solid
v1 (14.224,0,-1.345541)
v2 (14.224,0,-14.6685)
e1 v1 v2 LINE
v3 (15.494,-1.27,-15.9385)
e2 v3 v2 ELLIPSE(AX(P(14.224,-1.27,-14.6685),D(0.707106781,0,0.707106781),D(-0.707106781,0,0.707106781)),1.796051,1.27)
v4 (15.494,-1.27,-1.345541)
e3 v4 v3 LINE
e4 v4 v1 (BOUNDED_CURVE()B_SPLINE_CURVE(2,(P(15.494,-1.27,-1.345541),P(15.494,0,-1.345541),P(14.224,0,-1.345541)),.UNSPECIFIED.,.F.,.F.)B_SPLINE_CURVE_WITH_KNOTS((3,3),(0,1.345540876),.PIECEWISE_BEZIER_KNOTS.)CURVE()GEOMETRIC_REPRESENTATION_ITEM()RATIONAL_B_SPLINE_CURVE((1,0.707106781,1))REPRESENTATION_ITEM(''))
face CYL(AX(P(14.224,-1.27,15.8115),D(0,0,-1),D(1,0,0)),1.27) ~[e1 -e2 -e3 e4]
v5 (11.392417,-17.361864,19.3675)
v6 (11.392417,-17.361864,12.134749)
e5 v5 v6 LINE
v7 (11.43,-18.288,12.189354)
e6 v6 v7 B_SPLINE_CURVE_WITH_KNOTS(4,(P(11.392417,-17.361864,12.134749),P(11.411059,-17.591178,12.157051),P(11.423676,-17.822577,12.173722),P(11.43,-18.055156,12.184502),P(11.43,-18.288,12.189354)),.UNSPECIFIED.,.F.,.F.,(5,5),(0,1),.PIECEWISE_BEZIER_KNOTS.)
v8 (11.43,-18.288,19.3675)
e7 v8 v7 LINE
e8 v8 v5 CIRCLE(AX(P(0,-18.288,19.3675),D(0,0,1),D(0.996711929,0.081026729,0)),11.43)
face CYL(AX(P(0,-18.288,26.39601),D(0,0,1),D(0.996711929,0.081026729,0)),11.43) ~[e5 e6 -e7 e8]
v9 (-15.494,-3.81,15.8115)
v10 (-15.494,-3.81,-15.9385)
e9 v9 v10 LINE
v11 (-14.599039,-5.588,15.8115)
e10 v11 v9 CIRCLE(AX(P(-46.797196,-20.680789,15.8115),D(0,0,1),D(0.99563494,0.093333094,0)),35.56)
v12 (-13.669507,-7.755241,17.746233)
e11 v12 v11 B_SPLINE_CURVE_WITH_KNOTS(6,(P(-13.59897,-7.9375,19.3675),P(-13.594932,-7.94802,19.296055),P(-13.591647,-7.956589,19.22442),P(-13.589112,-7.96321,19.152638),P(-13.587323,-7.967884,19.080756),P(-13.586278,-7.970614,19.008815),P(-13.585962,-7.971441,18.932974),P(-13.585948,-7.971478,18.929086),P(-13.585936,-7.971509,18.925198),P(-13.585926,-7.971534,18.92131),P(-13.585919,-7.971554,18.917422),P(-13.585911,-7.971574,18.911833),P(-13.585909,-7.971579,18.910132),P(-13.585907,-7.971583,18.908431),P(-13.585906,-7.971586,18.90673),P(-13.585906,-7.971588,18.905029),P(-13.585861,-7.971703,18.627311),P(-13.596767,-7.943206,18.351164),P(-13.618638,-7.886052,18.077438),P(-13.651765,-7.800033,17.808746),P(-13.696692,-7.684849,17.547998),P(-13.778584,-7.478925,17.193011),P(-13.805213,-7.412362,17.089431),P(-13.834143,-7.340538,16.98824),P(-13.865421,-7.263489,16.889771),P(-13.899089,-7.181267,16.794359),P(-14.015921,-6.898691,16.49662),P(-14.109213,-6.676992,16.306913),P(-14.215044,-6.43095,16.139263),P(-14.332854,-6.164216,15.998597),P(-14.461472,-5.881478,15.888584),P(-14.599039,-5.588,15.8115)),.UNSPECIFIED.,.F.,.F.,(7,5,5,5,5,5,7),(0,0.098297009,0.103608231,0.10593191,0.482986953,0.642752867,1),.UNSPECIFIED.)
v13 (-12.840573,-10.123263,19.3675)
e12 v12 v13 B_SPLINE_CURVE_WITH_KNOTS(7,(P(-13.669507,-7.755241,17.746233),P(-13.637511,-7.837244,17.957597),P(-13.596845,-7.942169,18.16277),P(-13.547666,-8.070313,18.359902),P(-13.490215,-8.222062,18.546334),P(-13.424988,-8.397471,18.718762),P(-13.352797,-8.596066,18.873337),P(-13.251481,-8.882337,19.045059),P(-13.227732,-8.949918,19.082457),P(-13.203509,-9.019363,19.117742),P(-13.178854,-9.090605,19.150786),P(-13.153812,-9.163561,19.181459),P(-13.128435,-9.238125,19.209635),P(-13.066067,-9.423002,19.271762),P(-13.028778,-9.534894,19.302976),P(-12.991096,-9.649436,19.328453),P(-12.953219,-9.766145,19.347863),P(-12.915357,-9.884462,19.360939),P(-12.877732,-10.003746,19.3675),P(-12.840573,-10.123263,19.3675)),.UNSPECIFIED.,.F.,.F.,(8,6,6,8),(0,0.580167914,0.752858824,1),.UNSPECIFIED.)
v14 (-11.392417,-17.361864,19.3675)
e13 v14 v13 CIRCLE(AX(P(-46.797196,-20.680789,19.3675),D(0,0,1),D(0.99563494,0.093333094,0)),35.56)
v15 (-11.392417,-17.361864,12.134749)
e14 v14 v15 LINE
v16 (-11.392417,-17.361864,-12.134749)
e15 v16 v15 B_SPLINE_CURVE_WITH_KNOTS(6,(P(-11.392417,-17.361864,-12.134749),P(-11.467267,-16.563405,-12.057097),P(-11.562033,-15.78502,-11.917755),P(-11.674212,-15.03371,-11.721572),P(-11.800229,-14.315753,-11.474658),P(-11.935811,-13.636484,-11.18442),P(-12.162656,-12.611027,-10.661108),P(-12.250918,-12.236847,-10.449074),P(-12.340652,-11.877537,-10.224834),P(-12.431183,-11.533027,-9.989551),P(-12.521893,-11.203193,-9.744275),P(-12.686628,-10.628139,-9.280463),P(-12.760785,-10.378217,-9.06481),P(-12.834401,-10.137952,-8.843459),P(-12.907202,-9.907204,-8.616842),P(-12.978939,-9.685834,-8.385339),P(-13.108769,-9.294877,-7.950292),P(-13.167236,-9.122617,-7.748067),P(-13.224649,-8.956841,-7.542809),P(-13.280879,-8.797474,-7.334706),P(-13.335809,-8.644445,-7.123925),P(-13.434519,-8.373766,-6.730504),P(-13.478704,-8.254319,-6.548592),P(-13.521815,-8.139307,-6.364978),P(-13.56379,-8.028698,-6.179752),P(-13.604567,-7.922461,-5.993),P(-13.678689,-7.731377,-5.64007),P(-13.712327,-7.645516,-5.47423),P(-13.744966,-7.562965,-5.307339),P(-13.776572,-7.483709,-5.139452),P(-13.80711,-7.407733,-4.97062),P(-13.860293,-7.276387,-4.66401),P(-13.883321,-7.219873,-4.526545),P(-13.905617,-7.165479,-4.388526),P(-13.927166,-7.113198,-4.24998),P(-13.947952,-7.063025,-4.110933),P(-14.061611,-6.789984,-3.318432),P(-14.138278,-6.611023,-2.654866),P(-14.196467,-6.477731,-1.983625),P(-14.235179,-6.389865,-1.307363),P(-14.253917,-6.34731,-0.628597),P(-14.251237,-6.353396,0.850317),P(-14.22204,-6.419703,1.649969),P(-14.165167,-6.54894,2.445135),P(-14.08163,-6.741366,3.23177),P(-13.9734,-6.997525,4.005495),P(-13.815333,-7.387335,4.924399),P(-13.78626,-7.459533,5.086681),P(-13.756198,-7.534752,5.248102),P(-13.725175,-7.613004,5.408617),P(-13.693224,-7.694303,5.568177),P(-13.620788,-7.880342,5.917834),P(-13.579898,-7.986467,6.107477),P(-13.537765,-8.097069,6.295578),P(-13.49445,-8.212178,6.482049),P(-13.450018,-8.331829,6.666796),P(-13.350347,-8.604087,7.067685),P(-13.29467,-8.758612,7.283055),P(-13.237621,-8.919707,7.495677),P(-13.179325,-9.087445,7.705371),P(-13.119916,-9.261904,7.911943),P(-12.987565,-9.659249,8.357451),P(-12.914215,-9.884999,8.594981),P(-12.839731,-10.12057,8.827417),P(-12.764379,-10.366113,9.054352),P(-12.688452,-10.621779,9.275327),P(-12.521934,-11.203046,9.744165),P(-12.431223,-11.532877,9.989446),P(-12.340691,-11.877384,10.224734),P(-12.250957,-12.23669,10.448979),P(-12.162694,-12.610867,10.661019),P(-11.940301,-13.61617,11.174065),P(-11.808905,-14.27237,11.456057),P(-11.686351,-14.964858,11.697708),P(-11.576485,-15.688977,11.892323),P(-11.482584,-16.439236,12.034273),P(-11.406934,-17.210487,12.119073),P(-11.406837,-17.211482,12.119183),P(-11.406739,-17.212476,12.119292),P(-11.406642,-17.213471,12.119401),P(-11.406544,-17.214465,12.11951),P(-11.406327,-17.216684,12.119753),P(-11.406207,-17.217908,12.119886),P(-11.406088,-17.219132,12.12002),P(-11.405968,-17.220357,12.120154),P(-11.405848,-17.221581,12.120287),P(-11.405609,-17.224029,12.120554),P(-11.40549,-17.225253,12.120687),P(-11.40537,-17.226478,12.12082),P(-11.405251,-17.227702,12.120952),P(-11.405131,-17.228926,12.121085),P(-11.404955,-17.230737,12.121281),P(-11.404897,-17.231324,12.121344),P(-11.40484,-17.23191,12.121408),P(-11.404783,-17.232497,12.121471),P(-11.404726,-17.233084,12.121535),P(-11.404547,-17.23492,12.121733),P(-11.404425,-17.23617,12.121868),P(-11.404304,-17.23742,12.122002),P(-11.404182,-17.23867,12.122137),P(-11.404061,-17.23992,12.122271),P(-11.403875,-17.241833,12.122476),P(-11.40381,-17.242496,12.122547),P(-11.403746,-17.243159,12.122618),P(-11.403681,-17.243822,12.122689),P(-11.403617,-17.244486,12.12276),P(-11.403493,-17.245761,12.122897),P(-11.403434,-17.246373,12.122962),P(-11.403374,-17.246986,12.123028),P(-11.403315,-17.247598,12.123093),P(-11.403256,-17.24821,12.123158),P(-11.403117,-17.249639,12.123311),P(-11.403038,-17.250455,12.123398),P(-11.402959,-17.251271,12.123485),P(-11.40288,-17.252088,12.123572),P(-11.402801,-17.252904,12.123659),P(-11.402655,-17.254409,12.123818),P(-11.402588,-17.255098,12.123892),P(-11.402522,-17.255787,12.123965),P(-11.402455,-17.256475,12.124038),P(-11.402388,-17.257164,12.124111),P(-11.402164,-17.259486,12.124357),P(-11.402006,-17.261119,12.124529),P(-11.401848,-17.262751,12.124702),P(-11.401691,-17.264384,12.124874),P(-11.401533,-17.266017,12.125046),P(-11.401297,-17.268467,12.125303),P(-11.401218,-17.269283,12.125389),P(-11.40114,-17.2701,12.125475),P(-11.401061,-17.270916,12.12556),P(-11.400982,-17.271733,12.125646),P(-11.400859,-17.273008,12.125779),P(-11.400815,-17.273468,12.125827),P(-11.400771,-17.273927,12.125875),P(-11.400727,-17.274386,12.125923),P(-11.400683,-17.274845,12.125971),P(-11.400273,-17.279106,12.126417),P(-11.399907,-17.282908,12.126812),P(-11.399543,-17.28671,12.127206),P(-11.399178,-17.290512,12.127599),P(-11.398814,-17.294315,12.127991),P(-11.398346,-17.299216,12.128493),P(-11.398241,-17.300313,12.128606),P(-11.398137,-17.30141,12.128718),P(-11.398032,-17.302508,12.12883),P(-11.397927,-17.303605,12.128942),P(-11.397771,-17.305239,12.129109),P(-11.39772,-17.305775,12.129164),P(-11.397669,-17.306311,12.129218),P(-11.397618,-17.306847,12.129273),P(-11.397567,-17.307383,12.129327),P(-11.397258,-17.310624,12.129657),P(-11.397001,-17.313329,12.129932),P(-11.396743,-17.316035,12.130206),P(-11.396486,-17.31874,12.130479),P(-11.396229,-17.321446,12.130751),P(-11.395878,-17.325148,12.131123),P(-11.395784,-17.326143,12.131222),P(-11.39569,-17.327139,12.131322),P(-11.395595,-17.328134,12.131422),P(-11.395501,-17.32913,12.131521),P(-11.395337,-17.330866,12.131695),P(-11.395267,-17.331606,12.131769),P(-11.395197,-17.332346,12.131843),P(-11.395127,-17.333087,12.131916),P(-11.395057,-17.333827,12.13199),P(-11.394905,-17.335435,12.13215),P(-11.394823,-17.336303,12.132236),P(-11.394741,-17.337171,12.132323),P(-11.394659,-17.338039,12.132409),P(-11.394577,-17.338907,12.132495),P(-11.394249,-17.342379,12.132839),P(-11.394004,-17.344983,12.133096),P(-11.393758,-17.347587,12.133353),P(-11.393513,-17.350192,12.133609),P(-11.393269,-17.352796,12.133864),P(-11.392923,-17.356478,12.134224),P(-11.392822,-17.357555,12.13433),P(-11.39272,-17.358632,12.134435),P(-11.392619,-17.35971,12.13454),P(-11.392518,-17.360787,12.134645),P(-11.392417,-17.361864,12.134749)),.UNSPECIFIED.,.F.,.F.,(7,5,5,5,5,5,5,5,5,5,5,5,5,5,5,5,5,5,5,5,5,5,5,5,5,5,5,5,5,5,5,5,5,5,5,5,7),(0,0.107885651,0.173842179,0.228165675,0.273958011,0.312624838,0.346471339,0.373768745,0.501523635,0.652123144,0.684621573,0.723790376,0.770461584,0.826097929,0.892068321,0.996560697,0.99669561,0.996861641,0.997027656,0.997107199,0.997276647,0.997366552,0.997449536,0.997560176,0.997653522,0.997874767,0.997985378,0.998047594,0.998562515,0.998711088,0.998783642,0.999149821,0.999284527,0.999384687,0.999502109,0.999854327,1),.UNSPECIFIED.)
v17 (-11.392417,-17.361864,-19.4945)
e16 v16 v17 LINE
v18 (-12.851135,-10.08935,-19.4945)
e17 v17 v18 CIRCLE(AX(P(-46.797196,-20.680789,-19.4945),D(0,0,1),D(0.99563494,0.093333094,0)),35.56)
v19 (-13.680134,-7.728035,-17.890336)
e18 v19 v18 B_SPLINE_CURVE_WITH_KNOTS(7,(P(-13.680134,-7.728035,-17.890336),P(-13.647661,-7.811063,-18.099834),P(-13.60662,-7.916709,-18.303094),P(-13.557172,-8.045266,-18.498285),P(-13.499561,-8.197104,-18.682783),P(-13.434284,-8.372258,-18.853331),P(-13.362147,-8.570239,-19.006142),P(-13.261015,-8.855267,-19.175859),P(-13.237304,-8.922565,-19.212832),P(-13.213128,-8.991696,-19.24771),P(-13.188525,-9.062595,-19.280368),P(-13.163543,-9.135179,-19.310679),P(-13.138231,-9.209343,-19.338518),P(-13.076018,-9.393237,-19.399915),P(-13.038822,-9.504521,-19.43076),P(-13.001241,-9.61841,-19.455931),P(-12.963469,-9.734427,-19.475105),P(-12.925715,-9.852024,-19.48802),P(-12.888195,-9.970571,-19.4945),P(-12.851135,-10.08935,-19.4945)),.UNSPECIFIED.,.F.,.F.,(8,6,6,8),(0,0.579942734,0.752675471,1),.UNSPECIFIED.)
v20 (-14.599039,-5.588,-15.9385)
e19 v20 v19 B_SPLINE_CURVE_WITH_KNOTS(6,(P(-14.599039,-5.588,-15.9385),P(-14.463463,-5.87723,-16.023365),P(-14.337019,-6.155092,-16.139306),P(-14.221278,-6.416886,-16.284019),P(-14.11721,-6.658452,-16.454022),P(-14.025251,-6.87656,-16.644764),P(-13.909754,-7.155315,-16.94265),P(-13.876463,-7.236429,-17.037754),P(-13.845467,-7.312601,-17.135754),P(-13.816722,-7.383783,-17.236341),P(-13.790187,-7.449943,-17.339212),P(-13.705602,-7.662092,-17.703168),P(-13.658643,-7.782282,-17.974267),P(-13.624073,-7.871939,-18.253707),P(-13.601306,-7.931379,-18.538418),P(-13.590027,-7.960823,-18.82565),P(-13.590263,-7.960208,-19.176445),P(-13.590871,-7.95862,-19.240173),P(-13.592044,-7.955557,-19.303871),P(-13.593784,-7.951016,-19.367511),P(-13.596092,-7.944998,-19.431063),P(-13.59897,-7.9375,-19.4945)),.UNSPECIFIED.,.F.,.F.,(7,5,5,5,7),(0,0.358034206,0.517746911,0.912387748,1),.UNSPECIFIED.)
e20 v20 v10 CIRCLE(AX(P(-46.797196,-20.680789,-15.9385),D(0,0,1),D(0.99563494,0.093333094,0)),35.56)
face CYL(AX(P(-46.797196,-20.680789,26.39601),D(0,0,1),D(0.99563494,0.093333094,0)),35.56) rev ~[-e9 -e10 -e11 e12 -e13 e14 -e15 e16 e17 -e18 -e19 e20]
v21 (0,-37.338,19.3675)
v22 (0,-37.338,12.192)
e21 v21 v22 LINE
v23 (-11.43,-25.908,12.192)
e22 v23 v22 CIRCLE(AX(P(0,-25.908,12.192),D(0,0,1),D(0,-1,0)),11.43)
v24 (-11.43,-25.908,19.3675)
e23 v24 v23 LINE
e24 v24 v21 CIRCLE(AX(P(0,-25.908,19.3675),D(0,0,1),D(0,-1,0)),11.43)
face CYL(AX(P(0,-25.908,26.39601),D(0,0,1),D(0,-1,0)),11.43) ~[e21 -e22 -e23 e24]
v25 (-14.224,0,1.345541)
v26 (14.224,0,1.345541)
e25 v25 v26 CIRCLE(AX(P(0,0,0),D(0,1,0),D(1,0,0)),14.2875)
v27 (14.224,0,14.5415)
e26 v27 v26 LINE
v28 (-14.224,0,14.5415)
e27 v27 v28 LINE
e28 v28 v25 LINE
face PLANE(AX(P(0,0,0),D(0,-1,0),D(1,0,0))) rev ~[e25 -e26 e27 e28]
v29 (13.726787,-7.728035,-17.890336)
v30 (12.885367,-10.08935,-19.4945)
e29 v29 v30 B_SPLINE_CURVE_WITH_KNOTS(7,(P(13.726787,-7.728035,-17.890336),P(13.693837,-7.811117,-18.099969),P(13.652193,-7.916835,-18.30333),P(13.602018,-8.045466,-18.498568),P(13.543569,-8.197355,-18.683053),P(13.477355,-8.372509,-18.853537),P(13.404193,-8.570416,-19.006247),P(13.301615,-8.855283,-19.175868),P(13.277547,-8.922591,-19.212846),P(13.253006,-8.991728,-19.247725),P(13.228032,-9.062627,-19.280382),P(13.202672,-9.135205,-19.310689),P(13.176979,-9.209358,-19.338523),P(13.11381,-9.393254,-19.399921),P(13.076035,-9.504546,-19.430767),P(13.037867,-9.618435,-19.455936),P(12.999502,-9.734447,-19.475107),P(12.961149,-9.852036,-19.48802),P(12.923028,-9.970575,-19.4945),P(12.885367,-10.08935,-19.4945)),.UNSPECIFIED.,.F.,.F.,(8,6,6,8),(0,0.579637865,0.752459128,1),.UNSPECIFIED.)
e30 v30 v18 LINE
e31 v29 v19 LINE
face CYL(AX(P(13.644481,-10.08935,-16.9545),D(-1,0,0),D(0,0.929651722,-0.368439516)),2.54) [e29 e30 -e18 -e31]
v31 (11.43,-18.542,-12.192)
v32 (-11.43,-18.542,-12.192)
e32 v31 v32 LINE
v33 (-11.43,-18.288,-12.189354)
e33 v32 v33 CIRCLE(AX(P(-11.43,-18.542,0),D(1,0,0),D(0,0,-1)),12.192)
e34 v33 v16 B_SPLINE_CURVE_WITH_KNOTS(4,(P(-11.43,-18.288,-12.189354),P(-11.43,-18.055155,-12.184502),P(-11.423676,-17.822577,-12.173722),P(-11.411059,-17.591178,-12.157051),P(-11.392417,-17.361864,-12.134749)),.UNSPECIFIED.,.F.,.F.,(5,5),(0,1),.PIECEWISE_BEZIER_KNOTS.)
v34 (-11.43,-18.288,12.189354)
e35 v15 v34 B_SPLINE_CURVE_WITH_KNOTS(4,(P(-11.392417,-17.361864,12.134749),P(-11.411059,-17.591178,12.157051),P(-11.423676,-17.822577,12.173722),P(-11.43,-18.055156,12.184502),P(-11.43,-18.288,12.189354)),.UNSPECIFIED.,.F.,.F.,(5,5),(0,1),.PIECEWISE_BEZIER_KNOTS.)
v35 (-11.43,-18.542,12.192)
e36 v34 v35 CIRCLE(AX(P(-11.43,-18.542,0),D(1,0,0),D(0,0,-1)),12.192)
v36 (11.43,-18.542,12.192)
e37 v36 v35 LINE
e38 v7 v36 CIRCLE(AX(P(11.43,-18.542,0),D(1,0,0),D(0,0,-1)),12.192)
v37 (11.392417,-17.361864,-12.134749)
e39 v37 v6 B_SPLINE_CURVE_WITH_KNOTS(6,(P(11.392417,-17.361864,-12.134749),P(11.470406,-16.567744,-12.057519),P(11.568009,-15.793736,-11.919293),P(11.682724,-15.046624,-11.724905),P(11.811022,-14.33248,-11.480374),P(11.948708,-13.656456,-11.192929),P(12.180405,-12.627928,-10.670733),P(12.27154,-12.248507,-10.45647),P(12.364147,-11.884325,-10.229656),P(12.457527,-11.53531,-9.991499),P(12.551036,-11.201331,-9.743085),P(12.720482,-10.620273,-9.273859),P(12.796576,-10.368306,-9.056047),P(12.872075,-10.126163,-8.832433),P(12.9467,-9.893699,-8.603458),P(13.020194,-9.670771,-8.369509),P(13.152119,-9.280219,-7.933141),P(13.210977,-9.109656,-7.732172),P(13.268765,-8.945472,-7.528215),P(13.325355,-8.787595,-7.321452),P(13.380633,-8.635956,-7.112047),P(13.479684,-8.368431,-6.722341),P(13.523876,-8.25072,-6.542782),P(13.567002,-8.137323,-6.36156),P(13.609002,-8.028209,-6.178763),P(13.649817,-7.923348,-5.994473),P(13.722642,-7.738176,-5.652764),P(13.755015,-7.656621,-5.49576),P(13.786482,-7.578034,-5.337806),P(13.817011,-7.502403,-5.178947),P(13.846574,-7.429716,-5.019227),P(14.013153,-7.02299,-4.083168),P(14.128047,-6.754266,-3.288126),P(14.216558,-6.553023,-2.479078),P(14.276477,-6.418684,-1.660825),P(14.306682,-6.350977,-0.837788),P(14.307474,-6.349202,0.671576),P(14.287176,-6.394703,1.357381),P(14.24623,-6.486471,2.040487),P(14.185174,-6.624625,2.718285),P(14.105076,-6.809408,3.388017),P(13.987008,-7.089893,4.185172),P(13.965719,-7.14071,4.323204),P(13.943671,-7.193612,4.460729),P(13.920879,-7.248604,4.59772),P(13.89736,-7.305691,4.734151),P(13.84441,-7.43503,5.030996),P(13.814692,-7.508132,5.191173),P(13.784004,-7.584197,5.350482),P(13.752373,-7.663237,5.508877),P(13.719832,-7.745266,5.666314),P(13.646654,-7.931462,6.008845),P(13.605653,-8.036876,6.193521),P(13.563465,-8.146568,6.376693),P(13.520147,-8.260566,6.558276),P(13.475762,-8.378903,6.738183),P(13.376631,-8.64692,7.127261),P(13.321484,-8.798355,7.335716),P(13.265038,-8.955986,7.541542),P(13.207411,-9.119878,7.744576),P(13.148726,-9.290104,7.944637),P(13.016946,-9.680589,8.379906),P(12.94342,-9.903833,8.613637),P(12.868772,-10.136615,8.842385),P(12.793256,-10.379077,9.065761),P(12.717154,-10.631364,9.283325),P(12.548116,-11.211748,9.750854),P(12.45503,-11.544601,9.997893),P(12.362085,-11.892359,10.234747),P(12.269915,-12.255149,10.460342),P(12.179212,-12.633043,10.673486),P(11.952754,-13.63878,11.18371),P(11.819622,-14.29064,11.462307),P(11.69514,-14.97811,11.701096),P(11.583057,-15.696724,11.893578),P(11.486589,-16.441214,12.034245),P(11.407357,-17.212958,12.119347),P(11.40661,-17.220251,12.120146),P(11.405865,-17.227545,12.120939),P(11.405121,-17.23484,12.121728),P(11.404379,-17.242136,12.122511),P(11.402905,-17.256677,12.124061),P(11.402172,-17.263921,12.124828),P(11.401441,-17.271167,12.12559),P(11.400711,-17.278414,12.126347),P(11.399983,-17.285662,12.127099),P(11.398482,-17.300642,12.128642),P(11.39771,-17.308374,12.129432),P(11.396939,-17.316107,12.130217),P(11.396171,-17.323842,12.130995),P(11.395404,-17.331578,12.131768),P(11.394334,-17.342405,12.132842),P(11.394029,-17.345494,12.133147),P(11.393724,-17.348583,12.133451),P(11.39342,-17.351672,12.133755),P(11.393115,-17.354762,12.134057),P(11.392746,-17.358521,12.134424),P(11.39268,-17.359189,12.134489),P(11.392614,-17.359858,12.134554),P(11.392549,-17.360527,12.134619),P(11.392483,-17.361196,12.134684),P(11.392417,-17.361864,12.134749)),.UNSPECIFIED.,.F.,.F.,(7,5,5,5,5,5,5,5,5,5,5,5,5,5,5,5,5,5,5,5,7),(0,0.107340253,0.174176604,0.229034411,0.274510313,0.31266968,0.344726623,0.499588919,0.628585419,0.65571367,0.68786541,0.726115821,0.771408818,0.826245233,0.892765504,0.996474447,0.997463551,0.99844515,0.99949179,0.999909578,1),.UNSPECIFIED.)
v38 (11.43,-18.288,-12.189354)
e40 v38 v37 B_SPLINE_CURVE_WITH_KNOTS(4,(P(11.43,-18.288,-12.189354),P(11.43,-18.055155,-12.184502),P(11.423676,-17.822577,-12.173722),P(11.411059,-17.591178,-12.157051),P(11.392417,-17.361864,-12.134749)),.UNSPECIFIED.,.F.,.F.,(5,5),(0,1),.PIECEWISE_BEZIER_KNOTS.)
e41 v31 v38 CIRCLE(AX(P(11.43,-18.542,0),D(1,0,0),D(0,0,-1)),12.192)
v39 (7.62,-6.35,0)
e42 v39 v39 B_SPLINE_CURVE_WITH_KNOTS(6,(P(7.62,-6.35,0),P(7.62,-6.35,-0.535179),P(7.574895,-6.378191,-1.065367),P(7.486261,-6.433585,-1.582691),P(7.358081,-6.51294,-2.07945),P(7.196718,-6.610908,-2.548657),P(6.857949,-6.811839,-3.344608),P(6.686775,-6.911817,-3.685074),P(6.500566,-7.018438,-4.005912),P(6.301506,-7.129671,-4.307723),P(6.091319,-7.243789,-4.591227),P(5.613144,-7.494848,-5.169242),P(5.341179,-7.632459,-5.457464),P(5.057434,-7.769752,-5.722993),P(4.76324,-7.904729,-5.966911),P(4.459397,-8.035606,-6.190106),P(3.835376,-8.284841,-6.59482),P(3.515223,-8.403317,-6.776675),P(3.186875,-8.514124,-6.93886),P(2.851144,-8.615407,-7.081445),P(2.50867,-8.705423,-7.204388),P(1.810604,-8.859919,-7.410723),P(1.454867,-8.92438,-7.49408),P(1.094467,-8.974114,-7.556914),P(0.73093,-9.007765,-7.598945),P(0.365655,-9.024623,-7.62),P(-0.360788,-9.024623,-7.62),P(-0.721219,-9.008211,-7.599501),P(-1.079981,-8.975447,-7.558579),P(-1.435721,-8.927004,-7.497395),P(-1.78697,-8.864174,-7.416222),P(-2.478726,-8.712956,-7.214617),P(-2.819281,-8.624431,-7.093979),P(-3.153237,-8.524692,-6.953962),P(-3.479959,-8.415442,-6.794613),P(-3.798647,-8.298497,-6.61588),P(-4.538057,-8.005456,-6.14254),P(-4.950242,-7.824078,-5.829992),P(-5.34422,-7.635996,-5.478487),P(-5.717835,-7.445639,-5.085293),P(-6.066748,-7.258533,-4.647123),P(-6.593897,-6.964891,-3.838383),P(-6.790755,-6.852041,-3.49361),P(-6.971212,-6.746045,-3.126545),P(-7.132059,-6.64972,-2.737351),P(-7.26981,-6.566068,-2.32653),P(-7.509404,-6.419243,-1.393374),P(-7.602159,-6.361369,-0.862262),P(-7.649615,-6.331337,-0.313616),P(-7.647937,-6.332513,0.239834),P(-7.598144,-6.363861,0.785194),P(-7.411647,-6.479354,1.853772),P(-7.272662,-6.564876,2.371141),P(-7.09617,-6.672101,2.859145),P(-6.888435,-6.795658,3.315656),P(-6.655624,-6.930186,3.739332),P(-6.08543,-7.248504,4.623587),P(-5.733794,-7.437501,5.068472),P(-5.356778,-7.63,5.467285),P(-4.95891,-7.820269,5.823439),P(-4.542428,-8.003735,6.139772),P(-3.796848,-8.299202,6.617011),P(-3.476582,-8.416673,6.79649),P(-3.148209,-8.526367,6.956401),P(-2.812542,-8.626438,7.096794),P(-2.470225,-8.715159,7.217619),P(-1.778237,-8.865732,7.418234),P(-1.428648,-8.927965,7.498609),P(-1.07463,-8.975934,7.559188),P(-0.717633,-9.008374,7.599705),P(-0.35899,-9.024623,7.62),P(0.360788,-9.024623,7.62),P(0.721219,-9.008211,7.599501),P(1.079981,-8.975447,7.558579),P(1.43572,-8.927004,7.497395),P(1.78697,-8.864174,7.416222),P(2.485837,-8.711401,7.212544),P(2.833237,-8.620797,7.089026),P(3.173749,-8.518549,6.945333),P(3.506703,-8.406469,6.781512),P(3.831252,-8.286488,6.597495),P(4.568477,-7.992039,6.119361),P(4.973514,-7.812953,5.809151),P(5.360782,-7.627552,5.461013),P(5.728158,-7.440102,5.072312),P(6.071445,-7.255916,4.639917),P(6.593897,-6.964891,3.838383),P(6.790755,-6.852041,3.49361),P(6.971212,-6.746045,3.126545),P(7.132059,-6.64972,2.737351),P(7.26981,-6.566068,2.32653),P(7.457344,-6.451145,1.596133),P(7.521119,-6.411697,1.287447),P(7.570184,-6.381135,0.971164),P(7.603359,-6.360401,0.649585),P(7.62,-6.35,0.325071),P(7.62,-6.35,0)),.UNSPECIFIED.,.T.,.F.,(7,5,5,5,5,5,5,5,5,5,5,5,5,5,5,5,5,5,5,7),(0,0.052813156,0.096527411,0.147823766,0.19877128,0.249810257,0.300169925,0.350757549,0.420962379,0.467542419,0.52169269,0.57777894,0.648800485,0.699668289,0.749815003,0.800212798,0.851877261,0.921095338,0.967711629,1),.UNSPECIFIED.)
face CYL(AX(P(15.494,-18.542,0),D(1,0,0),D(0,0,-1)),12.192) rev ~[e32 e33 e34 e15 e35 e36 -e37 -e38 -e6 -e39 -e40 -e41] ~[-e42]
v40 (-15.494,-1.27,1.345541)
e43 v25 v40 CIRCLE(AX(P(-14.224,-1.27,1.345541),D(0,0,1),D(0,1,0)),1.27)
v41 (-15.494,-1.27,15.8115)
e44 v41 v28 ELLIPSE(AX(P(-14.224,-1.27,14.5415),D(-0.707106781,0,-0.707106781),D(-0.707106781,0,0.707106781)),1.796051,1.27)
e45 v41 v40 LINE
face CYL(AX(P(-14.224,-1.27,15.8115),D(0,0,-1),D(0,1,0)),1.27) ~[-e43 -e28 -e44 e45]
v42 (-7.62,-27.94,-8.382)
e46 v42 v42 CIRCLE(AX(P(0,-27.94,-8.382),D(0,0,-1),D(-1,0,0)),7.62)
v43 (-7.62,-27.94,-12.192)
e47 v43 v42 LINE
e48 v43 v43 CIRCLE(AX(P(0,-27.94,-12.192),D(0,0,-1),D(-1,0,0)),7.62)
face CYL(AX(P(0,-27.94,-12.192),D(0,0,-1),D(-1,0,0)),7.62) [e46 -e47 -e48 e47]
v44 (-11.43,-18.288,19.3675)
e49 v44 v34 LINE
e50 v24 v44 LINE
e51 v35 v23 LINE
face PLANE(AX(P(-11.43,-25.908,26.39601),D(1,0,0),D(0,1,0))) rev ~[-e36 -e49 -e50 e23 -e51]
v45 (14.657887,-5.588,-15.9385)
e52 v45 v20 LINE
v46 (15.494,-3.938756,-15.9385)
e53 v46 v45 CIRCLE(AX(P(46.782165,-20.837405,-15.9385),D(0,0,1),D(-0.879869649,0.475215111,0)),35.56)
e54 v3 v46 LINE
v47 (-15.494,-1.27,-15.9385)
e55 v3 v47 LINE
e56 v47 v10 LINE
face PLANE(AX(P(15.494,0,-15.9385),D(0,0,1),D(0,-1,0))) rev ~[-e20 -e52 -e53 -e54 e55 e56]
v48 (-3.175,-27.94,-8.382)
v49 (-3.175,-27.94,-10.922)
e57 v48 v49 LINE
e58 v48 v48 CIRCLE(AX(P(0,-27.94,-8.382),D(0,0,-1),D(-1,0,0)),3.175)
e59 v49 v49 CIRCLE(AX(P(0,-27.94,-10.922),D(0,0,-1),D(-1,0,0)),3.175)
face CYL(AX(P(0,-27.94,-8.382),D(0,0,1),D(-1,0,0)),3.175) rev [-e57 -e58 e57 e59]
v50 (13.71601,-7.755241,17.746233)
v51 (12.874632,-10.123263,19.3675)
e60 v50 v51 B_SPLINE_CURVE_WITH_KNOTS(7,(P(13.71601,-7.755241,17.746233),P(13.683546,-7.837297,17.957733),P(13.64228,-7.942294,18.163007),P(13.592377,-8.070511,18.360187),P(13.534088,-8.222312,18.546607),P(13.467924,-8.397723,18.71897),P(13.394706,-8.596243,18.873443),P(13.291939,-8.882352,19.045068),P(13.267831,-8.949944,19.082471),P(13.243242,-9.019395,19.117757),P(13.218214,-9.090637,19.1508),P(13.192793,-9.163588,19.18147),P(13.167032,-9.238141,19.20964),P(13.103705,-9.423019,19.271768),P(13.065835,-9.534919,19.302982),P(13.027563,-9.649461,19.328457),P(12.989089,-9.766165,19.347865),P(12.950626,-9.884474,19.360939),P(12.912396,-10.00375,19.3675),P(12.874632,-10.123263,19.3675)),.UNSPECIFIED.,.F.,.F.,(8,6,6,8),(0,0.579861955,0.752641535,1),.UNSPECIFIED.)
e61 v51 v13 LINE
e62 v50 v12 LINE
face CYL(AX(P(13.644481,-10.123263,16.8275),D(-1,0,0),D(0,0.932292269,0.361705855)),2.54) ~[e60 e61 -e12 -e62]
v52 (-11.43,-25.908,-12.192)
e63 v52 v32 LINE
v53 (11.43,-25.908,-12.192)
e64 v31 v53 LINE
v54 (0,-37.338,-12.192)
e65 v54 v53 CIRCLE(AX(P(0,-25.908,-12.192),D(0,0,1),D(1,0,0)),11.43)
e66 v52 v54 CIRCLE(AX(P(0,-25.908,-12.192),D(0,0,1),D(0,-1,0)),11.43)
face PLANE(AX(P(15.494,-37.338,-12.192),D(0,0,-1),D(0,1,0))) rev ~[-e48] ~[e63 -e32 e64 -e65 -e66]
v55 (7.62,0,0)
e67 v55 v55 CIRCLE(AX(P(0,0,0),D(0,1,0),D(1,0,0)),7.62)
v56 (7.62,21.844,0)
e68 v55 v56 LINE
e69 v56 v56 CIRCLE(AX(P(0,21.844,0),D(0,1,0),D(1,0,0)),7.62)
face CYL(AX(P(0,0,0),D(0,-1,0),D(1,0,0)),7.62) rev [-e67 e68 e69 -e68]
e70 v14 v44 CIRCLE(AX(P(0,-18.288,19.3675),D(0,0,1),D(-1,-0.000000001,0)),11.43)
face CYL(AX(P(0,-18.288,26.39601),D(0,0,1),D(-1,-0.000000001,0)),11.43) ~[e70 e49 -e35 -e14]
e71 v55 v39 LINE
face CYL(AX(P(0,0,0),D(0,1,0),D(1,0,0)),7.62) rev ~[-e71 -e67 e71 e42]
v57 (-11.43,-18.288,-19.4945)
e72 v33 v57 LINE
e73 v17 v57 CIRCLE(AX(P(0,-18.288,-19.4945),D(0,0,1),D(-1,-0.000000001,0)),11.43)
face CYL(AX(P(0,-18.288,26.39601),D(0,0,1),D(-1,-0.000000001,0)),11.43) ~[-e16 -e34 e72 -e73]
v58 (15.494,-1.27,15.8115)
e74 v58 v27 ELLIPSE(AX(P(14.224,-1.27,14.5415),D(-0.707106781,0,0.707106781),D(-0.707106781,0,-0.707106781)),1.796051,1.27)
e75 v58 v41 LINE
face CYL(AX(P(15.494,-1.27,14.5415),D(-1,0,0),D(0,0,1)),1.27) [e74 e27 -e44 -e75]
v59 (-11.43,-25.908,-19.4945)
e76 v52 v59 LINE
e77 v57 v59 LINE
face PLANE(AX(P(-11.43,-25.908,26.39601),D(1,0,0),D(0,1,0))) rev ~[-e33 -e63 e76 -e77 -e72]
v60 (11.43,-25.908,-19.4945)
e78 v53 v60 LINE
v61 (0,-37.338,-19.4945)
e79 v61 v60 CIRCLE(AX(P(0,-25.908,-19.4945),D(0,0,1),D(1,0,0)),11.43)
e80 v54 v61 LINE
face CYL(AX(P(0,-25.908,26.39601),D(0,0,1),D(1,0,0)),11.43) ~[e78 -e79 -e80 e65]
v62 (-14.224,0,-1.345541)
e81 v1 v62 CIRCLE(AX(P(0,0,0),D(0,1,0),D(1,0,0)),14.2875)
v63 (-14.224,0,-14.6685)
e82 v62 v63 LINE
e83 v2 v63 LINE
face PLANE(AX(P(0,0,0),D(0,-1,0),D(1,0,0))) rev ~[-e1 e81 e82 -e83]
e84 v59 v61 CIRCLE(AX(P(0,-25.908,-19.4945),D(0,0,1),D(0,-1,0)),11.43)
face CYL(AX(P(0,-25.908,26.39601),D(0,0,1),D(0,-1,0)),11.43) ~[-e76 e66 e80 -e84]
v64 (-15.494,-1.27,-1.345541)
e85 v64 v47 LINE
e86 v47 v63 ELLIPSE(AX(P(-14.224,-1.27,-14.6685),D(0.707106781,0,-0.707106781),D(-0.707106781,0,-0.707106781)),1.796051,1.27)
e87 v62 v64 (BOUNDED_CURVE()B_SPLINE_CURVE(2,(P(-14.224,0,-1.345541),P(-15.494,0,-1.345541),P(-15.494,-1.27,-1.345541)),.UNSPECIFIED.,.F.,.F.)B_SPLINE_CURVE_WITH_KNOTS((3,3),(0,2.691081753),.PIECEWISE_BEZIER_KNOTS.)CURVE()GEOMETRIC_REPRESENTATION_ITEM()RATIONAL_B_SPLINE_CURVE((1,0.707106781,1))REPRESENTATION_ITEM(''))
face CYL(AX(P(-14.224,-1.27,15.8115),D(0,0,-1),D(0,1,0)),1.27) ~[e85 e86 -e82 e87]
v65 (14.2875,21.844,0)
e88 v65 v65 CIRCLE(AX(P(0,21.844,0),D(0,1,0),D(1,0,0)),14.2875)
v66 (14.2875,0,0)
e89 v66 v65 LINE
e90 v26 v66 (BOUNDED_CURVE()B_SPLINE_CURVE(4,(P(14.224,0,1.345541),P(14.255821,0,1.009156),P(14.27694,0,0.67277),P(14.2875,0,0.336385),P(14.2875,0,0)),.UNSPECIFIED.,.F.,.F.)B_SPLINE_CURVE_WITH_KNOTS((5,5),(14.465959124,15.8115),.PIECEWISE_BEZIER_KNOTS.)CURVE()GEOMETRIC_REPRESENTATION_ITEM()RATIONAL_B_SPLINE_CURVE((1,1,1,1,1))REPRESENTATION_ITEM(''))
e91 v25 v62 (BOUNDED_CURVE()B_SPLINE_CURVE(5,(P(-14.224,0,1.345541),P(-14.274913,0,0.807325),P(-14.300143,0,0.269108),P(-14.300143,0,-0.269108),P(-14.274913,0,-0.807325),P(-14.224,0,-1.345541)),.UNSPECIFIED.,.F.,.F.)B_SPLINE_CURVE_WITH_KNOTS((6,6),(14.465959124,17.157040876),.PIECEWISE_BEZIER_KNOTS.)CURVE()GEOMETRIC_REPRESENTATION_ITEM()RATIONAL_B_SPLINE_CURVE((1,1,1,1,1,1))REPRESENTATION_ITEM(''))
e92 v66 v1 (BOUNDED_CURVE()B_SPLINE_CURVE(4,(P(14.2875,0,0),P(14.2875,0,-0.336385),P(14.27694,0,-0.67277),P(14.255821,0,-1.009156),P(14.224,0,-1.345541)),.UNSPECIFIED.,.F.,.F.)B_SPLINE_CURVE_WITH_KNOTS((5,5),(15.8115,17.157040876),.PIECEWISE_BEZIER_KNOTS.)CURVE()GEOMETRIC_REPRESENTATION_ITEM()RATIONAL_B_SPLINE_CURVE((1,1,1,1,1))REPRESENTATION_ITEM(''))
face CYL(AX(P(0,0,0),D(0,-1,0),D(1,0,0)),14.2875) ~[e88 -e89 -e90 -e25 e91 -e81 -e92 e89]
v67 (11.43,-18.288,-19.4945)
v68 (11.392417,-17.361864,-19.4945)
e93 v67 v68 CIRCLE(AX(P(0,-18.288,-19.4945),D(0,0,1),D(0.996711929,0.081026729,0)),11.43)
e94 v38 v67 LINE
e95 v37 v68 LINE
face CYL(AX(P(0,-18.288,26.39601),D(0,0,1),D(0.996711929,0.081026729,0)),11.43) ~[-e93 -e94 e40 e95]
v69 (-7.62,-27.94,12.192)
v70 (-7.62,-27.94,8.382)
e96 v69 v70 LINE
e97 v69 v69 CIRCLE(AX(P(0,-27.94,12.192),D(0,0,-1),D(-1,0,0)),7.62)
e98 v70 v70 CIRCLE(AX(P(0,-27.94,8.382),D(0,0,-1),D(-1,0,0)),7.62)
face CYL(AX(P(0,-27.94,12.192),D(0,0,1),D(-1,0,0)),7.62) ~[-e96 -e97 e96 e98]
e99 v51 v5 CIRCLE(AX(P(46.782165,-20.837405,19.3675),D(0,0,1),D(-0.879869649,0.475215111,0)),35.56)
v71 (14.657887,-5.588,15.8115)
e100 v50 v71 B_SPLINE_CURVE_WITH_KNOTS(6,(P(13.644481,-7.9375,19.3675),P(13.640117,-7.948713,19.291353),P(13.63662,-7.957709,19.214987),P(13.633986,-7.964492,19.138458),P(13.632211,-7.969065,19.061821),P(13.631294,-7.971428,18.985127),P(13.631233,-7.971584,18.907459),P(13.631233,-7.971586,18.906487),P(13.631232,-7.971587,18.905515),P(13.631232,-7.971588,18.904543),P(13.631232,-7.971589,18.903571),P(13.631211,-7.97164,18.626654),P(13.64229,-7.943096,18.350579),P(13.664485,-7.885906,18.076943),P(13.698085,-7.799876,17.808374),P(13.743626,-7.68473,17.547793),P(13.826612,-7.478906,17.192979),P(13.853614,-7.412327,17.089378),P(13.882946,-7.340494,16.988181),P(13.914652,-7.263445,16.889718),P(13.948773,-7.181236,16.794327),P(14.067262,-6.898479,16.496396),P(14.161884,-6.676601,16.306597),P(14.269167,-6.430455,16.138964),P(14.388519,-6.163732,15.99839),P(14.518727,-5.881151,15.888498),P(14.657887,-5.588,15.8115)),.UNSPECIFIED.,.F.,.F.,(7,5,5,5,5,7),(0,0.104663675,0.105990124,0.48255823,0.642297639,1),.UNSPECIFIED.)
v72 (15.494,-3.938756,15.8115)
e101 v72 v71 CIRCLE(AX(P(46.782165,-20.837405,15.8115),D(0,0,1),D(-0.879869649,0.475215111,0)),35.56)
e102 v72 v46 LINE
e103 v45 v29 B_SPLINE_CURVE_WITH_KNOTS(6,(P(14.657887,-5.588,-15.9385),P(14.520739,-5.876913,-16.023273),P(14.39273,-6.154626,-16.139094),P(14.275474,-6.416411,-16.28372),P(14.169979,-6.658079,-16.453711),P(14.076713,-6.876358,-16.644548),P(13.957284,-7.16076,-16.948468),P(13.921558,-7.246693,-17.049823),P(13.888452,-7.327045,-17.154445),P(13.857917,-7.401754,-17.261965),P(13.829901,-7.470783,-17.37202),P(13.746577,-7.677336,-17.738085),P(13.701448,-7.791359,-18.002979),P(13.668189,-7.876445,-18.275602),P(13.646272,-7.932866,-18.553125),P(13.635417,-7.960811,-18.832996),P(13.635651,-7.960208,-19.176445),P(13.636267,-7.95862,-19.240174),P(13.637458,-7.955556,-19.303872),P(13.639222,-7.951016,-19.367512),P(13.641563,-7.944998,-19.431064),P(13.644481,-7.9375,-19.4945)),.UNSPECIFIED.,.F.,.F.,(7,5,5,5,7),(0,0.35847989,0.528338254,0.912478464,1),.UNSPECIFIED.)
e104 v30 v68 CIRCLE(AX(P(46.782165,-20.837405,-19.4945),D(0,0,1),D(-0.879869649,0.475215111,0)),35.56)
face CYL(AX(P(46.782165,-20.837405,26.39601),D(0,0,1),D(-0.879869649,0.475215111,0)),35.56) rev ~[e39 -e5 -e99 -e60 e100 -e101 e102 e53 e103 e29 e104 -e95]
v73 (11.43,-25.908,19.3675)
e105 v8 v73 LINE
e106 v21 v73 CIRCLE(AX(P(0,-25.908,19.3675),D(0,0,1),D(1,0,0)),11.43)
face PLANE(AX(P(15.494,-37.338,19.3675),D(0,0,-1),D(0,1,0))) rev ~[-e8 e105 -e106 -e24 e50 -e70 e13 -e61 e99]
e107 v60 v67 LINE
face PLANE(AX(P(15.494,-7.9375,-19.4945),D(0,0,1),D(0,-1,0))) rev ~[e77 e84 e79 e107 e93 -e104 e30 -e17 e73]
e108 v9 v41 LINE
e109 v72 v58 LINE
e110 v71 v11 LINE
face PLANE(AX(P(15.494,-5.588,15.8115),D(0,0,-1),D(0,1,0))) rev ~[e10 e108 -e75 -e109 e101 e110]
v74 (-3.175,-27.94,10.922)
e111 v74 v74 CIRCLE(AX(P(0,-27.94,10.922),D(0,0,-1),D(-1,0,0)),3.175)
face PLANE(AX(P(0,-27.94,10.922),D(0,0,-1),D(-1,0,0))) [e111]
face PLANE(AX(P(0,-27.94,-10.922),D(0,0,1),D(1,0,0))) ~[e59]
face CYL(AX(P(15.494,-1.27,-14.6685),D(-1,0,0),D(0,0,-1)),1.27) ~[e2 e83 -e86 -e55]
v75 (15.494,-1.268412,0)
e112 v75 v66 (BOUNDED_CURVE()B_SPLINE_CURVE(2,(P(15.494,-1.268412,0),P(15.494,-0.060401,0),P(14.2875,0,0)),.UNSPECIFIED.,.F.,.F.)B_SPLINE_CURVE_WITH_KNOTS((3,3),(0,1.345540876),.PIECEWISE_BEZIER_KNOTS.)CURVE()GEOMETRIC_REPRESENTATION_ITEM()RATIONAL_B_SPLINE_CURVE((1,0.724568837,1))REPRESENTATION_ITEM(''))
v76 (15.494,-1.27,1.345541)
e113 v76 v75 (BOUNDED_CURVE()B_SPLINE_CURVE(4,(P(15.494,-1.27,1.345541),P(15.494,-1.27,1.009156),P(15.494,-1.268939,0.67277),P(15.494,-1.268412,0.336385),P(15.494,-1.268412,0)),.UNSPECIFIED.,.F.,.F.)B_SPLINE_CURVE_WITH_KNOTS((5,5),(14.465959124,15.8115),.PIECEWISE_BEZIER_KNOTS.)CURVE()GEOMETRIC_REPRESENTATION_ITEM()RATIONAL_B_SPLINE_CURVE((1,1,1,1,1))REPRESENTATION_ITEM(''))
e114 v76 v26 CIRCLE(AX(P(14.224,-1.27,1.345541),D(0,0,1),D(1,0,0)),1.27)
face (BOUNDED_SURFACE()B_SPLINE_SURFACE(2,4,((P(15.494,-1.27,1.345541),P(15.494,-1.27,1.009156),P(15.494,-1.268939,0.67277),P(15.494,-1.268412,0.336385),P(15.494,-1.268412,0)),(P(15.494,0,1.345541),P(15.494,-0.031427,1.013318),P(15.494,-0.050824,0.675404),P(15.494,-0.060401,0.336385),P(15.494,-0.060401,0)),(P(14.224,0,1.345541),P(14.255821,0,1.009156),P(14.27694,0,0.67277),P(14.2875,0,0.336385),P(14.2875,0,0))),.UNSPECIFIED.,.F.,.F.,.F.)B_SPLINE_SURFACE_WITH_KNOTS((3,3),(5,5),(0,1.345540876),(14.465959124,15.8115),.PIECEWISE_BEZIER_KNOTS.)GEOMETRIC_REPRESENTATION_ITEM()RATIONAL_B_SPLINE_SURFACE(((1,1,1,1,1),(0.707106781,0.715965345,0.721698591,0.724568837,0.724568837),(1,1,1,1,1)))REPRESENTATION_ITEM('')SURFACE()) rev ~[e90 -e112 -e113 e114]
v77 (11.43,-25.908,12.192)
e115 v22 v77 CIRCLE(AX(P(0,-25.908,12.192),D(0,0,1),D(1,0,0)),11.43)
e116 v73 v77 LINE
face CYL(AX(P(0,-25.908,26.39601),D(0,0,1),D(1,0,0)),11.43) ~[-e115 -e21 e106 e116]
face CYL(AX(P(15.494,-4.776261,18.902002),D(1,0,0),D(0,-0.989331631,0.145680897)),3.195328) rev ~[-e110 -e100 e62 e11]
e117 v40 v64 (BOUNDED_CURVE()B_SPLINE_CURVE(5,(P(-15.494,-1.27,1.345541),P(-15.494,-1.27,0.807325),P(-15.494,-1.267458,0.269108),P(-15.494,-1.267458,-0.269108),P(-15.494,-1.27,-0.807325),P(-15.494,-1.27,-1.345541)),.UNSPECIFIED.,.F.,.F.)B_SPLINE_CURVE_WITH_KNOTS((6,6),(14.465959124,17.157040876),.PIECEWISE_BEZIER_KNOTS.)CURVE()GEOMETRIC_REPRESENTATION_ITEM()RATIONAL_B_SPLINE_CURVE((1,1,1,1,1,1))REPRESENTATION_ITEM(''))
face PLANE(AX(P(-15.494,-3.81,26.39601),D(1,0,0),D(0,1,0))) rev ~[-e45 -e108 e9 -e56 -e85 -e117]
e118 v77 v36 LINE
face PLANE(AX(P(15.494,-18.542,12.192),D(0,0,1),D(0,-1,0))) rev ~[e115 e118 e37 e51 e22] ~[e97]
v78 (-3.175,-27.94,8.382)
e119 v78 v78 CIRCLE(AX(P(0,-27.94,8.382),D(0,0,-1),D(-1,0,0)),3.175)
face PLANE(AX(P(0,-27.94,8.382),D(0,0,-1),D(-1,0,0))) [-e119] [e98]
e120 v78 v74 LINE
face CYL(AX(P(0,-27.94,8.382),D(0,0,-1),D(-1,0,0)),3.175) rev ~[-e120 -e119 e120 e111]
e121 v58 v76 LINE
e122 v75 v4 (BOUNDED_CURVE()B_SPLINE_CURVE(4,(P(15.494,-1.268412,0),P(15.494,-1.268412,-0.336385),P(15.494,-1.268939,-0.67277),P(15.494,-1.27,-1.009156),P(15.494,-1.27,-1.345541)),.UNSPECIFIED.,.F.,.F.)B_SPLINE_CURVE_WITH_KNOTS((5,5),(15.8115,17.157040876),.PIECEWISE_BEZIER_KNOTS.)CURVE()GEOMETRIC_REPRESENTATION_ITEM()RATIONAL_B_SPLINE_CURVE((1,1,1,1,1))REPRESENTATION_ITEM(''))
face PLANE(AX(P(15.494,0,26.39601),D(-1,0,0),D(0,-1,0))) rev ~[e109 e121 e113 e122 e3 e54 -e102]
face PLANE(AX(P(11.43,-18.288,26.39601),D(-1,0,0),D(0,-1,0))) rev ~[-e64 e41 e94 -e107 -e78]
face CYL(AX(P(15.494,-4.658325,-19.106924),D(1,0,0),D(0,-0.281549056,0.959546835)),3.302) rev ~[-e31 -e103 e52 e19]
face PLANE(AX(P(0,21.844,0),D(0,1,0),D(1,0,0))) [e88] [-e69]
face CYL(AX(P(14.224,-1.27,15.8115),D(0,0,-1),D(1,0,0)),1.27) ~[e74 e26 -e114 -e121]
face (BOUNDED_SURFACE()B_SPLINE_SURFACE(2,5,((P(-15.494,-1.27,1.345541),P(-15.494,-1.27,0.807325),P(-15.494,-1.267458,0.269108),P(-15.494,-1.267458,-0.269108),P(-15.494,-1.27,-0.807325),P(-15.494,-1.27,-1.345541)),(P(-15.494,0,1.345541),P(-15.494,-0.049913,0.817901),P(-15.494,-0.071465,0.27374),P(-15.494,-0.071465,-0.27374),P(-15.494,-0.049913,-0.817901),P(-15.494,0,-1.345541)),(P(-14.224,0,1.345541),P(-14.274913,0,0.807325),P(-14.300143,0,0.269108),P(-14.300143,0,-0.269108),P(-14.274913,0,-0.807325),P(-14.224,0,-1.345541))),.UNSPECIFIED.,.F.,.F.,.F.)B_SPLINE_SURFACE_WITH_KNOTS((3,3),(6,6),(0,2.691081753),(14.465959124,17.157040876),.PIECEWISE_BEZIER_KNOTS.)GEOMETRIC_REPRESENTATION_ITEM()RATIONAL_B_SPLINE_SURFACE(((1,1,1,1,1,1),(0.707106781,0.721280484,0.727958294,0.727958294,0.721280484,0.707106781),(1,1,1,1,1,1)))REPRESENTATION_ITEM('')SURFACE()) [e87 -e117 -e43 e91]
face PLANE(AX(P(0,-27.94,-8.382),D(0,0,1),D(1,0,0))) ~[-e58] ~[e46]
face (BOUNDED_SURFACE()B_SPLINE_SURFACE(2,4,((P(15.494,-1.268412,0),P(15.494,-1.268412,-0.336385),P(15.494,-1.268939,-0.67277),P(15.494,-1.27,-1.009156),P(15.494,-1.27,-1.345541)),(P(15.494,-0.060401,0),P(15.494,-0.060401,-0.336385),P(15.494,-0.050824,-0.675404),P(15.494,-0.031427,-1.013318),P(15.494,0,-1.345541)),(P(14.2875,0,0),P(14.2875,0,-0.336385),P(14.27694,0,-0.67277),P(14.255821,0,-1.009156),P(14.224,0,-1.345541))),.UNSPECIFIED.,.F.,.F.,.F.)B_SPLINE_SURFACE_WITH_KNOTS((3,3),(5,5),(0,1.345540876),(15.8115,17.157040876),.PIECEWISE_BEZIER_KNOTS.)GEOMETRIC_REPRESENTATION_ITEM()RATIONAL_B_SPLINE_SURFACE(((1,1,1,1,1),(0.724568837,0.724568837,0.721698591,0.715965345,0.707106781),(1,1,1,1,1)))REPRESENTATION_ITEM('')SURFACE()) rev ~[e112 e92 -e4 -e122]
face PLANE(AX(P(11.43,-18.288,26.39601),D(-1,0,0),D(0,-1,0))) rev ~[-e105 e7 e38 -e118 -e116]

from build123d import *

# Parameters (mm, degrees)
SKETCH1_R           = 14.2875
SKETCH1_R_2         = 7.62
BOSS_EXTRUDE1_DEPTH = 21.844
SKETCH2_W           = 57.929815832
SKETCH2_H           = 52.792019068
BOSS_EXTRUDE2_DEPTH = 37.338
CUT_EXTRUDE2_DEPTH  = 53.792019068
SKETCH5_W           = 10.584509534
SKETCH5_H           = 3.93875565
SKETCH5_W_2         = 10.457509534
CUT_EXTRUDE3_DEPTH  = 37.338
FILLET2_R           = 2.54
SKETCH6_R           = 7.62
CUT_EXTRUDE4_DEPTH  = 37.338
SKETCH7_R           = 7.62
BOSS_EXTRUDE3_DEPTH = 3.81
SKETCH8_R           = 3.175
CUT_EXTRUDE5_DEPTH  = 2.54
FILLET8_R           = 1.27


with BuildPart() as part:
    # Sketch1 → Boss-Extrude1 (new body)
    with BuildSketch(Plane(origin=(0, 0, 0), x_dir=(1, 0, 0), z_dir=(0, 1, 0))):
        Circle(SKETCH1_R)
        Circle(SKETCH1_R_2, mode=Mode.SUBTRACT)
    extrude(amount=BOSS_EXTRUDE1_DEPTH)

    # Sketch2 → Boss-Extrude2 (add)
    with BuildSketch(Plane.XZ):
        Rectangle(SKETCH2_W, SKETCH2_H)
    extrude(amount=BOSS_EXTRUDE2_DEPTH)

    # Sketch4 → Cut-Extrude2 (cut, through all)
    with BuildSketch(Plane.XY.offset(26.396009534)):
        with BuildLine():
            Line((-15.494, -3.81), (-15.494, 0))
            Line((-15.494, 0), (-28.964907916, 0))
            Line((-28.964907916, 0), (-28.964907916, -37.338))
            Line((-28.964907916, -37.338), (0, -37.338))
            ThreePointArc((0, -37.338), (-8.082230509, -33.990230509), (-11.43, -25.908))
            Line((-11.43, -25.908), (-11.43, -18.288))
            ThreePointArc((-11.43, -18.288), (-11.420600472, -17.824551121), (-11.392417347, -17.361864482))
            ThreePointArc((-11.392417347, -17.361864482), (-12.761894788, -10.37972702), (-15.494, -3.81))
        make_face()
        with BuildLine():
            Line((28.964907916, 0), (15.494, 0))
            Line((15.494, 0), (15.494, -3.93875565))
            ThreePointArc((15.494, -3.93875565), (12.774357484, -10.445935023), (11.392417347, -17.361864482))
            ThreePointArc((11.392417347, -17.361864482), (11.420600472, -17.824551121), (11.43, -18.288))
            Line((11.43, -18.288), (11.43, -25.908))
            ThreePointArc((11.43, -25.908), (8.082230509, -33.990230509), (0, -37.338))
            Line((0, -37.338), (28.964907916, -37.338))
            Line((28.964907916, -37.338), (28.964907916, 0))
        make_face()
    extrude(amount=-CUT_EXTRUDE2_DEPTH, mode=Mode.SUBTRACT)

    # Sketch5 → Cut-Extrude3 (cut)
    with BuildSketch(Plane(origin=(15.494, 0, 0), x_dir=(0, 0, -1), z_dir=(1, 0, 0))):
        with BuildLine():
            Line((-15.8115, -5.588), (-15.8115, -3.93875565))
            Line((-15.8115, -3.93875565), (-26.396009534, -3.93875565))
            Line((-26.396009534, -3.93875565), (-26.396009534, -37.338))
            Line((-26.396009534, -37.338), (-19.3675, -37.338))
            Line((-19.3675, -37.338), (-19.3675, -7.9375))
            ThreePointArc((-19.3675, -7.9375), (-17.140553933, -7.44223594), (-15.8115, -5.588))
        make_face()
        with Locations((-21.103754767, -1.969377825)):
            Rectangle(SKETCH5_W, SKETCH5_H)
        with BuildLine():
            Line((-12.192, -18.542), (-12.192, -37.338))
            Line((-12.192, -37.338), (12.192, -37.338))
            Line((12.192, -37.338), (12.192, -18.542))
            ThreePointArc((12.192, -18.542), (0, -6.35), (-12.192, -18.542))
        make_face()
        with Locations((21.167254767, -1.969377825)):
            Rectangle(SKETCH5_W_2, SKETCH5_H)
        with BuildLine():
            Line((26.396009534, -3.93875565), (15.9385, -3.93875565))
            Line((15.9385, -3.93875565), (15.9385, -5.588))
            ThreePointArc((15.9385, -5.588), (17.286672159, -7.413300245), (19.4945, -7.9375))
            Line((19.4945, -7.9375), (19.4945, -37.338))
            Line((19.4945, -37.338), (26.396009534, -37.338))
            Line((26.396009534, -37.338), (26.396009534, -3.93875565))
        make_face()
    extrude(amount=-CUT_EXTRUDE3_DEPTH, mode=Mode.SUBTRACT)

    # Fillet2
    fillet2_edges = [part.edges().sort_by_distance(p)[0] for p in [
        (0.02275558, -7.9375, 19.3675),
        (0.02275558, -7.9375, -19.4945),
    ]]
    fillet(fillet2_edges, radius=FILLET2_R)

    # Sketch6 → Cut-Extrude4 (cut)
    with BuildSketch(Plane(origin=(0, 0, 0), x_dir=(1, 0, 0), z_dir=(0, 1, 0))):
        Circle(SKETCH6_R)
    extrude(amount=-CUT_EXTRUDE4_DEPTH, mode=Mode.SUBTRACT)

    # Sketch7 → Boss-Extrude3 (add)
    with BuildSketch(Plane(origin=(0, 0, 12.192), x_dir=(-1, 0, 0), z_dir=(0, 0, -1))):
        with Locations((0, -27.94)):
            Circle(SKETCH7_R)
    boss_extrude3 = extrude(amount=BOSS_EXTRUDE3_DEPTH)

    # Mirror1: Boss-Extrude3 across plane
    add(boss_extrude3.mirror(Plane.XY))

    # Sketch8 → Cut-Extrude5 (cut)
    with BuildSketch(Plane(origin=(0, 0, 8.382), x_dir=(-1, 0, 0), z_dir=(0, 0, -1))):
        with Locations((0, -27.94)):
            Circle(SKETCH8_R)
    cut_extrude5 = extrude(amount=-CUT_EXTRUDE5_DEPTH, mode=Mode.SUBTRACT)

    # Mirror2: Cut-Extrude5 across plane
    add(cut_extrude5.mirror(Plane.XY), mode=Mode.SUBTRACT)

    # Fillet8
    fillet8_edges = [part.edges().sort_by_distance(p)[0] for p in [
        (0, 0, 15.8115),
        (0, 0, -15.9385),
        (15.494, 0, -0.0635),
        (-15.494, 0, -0.0635),
    ]]
    fillet(fillet8_edges, radius=FILLET8_R)


solid = part.part
